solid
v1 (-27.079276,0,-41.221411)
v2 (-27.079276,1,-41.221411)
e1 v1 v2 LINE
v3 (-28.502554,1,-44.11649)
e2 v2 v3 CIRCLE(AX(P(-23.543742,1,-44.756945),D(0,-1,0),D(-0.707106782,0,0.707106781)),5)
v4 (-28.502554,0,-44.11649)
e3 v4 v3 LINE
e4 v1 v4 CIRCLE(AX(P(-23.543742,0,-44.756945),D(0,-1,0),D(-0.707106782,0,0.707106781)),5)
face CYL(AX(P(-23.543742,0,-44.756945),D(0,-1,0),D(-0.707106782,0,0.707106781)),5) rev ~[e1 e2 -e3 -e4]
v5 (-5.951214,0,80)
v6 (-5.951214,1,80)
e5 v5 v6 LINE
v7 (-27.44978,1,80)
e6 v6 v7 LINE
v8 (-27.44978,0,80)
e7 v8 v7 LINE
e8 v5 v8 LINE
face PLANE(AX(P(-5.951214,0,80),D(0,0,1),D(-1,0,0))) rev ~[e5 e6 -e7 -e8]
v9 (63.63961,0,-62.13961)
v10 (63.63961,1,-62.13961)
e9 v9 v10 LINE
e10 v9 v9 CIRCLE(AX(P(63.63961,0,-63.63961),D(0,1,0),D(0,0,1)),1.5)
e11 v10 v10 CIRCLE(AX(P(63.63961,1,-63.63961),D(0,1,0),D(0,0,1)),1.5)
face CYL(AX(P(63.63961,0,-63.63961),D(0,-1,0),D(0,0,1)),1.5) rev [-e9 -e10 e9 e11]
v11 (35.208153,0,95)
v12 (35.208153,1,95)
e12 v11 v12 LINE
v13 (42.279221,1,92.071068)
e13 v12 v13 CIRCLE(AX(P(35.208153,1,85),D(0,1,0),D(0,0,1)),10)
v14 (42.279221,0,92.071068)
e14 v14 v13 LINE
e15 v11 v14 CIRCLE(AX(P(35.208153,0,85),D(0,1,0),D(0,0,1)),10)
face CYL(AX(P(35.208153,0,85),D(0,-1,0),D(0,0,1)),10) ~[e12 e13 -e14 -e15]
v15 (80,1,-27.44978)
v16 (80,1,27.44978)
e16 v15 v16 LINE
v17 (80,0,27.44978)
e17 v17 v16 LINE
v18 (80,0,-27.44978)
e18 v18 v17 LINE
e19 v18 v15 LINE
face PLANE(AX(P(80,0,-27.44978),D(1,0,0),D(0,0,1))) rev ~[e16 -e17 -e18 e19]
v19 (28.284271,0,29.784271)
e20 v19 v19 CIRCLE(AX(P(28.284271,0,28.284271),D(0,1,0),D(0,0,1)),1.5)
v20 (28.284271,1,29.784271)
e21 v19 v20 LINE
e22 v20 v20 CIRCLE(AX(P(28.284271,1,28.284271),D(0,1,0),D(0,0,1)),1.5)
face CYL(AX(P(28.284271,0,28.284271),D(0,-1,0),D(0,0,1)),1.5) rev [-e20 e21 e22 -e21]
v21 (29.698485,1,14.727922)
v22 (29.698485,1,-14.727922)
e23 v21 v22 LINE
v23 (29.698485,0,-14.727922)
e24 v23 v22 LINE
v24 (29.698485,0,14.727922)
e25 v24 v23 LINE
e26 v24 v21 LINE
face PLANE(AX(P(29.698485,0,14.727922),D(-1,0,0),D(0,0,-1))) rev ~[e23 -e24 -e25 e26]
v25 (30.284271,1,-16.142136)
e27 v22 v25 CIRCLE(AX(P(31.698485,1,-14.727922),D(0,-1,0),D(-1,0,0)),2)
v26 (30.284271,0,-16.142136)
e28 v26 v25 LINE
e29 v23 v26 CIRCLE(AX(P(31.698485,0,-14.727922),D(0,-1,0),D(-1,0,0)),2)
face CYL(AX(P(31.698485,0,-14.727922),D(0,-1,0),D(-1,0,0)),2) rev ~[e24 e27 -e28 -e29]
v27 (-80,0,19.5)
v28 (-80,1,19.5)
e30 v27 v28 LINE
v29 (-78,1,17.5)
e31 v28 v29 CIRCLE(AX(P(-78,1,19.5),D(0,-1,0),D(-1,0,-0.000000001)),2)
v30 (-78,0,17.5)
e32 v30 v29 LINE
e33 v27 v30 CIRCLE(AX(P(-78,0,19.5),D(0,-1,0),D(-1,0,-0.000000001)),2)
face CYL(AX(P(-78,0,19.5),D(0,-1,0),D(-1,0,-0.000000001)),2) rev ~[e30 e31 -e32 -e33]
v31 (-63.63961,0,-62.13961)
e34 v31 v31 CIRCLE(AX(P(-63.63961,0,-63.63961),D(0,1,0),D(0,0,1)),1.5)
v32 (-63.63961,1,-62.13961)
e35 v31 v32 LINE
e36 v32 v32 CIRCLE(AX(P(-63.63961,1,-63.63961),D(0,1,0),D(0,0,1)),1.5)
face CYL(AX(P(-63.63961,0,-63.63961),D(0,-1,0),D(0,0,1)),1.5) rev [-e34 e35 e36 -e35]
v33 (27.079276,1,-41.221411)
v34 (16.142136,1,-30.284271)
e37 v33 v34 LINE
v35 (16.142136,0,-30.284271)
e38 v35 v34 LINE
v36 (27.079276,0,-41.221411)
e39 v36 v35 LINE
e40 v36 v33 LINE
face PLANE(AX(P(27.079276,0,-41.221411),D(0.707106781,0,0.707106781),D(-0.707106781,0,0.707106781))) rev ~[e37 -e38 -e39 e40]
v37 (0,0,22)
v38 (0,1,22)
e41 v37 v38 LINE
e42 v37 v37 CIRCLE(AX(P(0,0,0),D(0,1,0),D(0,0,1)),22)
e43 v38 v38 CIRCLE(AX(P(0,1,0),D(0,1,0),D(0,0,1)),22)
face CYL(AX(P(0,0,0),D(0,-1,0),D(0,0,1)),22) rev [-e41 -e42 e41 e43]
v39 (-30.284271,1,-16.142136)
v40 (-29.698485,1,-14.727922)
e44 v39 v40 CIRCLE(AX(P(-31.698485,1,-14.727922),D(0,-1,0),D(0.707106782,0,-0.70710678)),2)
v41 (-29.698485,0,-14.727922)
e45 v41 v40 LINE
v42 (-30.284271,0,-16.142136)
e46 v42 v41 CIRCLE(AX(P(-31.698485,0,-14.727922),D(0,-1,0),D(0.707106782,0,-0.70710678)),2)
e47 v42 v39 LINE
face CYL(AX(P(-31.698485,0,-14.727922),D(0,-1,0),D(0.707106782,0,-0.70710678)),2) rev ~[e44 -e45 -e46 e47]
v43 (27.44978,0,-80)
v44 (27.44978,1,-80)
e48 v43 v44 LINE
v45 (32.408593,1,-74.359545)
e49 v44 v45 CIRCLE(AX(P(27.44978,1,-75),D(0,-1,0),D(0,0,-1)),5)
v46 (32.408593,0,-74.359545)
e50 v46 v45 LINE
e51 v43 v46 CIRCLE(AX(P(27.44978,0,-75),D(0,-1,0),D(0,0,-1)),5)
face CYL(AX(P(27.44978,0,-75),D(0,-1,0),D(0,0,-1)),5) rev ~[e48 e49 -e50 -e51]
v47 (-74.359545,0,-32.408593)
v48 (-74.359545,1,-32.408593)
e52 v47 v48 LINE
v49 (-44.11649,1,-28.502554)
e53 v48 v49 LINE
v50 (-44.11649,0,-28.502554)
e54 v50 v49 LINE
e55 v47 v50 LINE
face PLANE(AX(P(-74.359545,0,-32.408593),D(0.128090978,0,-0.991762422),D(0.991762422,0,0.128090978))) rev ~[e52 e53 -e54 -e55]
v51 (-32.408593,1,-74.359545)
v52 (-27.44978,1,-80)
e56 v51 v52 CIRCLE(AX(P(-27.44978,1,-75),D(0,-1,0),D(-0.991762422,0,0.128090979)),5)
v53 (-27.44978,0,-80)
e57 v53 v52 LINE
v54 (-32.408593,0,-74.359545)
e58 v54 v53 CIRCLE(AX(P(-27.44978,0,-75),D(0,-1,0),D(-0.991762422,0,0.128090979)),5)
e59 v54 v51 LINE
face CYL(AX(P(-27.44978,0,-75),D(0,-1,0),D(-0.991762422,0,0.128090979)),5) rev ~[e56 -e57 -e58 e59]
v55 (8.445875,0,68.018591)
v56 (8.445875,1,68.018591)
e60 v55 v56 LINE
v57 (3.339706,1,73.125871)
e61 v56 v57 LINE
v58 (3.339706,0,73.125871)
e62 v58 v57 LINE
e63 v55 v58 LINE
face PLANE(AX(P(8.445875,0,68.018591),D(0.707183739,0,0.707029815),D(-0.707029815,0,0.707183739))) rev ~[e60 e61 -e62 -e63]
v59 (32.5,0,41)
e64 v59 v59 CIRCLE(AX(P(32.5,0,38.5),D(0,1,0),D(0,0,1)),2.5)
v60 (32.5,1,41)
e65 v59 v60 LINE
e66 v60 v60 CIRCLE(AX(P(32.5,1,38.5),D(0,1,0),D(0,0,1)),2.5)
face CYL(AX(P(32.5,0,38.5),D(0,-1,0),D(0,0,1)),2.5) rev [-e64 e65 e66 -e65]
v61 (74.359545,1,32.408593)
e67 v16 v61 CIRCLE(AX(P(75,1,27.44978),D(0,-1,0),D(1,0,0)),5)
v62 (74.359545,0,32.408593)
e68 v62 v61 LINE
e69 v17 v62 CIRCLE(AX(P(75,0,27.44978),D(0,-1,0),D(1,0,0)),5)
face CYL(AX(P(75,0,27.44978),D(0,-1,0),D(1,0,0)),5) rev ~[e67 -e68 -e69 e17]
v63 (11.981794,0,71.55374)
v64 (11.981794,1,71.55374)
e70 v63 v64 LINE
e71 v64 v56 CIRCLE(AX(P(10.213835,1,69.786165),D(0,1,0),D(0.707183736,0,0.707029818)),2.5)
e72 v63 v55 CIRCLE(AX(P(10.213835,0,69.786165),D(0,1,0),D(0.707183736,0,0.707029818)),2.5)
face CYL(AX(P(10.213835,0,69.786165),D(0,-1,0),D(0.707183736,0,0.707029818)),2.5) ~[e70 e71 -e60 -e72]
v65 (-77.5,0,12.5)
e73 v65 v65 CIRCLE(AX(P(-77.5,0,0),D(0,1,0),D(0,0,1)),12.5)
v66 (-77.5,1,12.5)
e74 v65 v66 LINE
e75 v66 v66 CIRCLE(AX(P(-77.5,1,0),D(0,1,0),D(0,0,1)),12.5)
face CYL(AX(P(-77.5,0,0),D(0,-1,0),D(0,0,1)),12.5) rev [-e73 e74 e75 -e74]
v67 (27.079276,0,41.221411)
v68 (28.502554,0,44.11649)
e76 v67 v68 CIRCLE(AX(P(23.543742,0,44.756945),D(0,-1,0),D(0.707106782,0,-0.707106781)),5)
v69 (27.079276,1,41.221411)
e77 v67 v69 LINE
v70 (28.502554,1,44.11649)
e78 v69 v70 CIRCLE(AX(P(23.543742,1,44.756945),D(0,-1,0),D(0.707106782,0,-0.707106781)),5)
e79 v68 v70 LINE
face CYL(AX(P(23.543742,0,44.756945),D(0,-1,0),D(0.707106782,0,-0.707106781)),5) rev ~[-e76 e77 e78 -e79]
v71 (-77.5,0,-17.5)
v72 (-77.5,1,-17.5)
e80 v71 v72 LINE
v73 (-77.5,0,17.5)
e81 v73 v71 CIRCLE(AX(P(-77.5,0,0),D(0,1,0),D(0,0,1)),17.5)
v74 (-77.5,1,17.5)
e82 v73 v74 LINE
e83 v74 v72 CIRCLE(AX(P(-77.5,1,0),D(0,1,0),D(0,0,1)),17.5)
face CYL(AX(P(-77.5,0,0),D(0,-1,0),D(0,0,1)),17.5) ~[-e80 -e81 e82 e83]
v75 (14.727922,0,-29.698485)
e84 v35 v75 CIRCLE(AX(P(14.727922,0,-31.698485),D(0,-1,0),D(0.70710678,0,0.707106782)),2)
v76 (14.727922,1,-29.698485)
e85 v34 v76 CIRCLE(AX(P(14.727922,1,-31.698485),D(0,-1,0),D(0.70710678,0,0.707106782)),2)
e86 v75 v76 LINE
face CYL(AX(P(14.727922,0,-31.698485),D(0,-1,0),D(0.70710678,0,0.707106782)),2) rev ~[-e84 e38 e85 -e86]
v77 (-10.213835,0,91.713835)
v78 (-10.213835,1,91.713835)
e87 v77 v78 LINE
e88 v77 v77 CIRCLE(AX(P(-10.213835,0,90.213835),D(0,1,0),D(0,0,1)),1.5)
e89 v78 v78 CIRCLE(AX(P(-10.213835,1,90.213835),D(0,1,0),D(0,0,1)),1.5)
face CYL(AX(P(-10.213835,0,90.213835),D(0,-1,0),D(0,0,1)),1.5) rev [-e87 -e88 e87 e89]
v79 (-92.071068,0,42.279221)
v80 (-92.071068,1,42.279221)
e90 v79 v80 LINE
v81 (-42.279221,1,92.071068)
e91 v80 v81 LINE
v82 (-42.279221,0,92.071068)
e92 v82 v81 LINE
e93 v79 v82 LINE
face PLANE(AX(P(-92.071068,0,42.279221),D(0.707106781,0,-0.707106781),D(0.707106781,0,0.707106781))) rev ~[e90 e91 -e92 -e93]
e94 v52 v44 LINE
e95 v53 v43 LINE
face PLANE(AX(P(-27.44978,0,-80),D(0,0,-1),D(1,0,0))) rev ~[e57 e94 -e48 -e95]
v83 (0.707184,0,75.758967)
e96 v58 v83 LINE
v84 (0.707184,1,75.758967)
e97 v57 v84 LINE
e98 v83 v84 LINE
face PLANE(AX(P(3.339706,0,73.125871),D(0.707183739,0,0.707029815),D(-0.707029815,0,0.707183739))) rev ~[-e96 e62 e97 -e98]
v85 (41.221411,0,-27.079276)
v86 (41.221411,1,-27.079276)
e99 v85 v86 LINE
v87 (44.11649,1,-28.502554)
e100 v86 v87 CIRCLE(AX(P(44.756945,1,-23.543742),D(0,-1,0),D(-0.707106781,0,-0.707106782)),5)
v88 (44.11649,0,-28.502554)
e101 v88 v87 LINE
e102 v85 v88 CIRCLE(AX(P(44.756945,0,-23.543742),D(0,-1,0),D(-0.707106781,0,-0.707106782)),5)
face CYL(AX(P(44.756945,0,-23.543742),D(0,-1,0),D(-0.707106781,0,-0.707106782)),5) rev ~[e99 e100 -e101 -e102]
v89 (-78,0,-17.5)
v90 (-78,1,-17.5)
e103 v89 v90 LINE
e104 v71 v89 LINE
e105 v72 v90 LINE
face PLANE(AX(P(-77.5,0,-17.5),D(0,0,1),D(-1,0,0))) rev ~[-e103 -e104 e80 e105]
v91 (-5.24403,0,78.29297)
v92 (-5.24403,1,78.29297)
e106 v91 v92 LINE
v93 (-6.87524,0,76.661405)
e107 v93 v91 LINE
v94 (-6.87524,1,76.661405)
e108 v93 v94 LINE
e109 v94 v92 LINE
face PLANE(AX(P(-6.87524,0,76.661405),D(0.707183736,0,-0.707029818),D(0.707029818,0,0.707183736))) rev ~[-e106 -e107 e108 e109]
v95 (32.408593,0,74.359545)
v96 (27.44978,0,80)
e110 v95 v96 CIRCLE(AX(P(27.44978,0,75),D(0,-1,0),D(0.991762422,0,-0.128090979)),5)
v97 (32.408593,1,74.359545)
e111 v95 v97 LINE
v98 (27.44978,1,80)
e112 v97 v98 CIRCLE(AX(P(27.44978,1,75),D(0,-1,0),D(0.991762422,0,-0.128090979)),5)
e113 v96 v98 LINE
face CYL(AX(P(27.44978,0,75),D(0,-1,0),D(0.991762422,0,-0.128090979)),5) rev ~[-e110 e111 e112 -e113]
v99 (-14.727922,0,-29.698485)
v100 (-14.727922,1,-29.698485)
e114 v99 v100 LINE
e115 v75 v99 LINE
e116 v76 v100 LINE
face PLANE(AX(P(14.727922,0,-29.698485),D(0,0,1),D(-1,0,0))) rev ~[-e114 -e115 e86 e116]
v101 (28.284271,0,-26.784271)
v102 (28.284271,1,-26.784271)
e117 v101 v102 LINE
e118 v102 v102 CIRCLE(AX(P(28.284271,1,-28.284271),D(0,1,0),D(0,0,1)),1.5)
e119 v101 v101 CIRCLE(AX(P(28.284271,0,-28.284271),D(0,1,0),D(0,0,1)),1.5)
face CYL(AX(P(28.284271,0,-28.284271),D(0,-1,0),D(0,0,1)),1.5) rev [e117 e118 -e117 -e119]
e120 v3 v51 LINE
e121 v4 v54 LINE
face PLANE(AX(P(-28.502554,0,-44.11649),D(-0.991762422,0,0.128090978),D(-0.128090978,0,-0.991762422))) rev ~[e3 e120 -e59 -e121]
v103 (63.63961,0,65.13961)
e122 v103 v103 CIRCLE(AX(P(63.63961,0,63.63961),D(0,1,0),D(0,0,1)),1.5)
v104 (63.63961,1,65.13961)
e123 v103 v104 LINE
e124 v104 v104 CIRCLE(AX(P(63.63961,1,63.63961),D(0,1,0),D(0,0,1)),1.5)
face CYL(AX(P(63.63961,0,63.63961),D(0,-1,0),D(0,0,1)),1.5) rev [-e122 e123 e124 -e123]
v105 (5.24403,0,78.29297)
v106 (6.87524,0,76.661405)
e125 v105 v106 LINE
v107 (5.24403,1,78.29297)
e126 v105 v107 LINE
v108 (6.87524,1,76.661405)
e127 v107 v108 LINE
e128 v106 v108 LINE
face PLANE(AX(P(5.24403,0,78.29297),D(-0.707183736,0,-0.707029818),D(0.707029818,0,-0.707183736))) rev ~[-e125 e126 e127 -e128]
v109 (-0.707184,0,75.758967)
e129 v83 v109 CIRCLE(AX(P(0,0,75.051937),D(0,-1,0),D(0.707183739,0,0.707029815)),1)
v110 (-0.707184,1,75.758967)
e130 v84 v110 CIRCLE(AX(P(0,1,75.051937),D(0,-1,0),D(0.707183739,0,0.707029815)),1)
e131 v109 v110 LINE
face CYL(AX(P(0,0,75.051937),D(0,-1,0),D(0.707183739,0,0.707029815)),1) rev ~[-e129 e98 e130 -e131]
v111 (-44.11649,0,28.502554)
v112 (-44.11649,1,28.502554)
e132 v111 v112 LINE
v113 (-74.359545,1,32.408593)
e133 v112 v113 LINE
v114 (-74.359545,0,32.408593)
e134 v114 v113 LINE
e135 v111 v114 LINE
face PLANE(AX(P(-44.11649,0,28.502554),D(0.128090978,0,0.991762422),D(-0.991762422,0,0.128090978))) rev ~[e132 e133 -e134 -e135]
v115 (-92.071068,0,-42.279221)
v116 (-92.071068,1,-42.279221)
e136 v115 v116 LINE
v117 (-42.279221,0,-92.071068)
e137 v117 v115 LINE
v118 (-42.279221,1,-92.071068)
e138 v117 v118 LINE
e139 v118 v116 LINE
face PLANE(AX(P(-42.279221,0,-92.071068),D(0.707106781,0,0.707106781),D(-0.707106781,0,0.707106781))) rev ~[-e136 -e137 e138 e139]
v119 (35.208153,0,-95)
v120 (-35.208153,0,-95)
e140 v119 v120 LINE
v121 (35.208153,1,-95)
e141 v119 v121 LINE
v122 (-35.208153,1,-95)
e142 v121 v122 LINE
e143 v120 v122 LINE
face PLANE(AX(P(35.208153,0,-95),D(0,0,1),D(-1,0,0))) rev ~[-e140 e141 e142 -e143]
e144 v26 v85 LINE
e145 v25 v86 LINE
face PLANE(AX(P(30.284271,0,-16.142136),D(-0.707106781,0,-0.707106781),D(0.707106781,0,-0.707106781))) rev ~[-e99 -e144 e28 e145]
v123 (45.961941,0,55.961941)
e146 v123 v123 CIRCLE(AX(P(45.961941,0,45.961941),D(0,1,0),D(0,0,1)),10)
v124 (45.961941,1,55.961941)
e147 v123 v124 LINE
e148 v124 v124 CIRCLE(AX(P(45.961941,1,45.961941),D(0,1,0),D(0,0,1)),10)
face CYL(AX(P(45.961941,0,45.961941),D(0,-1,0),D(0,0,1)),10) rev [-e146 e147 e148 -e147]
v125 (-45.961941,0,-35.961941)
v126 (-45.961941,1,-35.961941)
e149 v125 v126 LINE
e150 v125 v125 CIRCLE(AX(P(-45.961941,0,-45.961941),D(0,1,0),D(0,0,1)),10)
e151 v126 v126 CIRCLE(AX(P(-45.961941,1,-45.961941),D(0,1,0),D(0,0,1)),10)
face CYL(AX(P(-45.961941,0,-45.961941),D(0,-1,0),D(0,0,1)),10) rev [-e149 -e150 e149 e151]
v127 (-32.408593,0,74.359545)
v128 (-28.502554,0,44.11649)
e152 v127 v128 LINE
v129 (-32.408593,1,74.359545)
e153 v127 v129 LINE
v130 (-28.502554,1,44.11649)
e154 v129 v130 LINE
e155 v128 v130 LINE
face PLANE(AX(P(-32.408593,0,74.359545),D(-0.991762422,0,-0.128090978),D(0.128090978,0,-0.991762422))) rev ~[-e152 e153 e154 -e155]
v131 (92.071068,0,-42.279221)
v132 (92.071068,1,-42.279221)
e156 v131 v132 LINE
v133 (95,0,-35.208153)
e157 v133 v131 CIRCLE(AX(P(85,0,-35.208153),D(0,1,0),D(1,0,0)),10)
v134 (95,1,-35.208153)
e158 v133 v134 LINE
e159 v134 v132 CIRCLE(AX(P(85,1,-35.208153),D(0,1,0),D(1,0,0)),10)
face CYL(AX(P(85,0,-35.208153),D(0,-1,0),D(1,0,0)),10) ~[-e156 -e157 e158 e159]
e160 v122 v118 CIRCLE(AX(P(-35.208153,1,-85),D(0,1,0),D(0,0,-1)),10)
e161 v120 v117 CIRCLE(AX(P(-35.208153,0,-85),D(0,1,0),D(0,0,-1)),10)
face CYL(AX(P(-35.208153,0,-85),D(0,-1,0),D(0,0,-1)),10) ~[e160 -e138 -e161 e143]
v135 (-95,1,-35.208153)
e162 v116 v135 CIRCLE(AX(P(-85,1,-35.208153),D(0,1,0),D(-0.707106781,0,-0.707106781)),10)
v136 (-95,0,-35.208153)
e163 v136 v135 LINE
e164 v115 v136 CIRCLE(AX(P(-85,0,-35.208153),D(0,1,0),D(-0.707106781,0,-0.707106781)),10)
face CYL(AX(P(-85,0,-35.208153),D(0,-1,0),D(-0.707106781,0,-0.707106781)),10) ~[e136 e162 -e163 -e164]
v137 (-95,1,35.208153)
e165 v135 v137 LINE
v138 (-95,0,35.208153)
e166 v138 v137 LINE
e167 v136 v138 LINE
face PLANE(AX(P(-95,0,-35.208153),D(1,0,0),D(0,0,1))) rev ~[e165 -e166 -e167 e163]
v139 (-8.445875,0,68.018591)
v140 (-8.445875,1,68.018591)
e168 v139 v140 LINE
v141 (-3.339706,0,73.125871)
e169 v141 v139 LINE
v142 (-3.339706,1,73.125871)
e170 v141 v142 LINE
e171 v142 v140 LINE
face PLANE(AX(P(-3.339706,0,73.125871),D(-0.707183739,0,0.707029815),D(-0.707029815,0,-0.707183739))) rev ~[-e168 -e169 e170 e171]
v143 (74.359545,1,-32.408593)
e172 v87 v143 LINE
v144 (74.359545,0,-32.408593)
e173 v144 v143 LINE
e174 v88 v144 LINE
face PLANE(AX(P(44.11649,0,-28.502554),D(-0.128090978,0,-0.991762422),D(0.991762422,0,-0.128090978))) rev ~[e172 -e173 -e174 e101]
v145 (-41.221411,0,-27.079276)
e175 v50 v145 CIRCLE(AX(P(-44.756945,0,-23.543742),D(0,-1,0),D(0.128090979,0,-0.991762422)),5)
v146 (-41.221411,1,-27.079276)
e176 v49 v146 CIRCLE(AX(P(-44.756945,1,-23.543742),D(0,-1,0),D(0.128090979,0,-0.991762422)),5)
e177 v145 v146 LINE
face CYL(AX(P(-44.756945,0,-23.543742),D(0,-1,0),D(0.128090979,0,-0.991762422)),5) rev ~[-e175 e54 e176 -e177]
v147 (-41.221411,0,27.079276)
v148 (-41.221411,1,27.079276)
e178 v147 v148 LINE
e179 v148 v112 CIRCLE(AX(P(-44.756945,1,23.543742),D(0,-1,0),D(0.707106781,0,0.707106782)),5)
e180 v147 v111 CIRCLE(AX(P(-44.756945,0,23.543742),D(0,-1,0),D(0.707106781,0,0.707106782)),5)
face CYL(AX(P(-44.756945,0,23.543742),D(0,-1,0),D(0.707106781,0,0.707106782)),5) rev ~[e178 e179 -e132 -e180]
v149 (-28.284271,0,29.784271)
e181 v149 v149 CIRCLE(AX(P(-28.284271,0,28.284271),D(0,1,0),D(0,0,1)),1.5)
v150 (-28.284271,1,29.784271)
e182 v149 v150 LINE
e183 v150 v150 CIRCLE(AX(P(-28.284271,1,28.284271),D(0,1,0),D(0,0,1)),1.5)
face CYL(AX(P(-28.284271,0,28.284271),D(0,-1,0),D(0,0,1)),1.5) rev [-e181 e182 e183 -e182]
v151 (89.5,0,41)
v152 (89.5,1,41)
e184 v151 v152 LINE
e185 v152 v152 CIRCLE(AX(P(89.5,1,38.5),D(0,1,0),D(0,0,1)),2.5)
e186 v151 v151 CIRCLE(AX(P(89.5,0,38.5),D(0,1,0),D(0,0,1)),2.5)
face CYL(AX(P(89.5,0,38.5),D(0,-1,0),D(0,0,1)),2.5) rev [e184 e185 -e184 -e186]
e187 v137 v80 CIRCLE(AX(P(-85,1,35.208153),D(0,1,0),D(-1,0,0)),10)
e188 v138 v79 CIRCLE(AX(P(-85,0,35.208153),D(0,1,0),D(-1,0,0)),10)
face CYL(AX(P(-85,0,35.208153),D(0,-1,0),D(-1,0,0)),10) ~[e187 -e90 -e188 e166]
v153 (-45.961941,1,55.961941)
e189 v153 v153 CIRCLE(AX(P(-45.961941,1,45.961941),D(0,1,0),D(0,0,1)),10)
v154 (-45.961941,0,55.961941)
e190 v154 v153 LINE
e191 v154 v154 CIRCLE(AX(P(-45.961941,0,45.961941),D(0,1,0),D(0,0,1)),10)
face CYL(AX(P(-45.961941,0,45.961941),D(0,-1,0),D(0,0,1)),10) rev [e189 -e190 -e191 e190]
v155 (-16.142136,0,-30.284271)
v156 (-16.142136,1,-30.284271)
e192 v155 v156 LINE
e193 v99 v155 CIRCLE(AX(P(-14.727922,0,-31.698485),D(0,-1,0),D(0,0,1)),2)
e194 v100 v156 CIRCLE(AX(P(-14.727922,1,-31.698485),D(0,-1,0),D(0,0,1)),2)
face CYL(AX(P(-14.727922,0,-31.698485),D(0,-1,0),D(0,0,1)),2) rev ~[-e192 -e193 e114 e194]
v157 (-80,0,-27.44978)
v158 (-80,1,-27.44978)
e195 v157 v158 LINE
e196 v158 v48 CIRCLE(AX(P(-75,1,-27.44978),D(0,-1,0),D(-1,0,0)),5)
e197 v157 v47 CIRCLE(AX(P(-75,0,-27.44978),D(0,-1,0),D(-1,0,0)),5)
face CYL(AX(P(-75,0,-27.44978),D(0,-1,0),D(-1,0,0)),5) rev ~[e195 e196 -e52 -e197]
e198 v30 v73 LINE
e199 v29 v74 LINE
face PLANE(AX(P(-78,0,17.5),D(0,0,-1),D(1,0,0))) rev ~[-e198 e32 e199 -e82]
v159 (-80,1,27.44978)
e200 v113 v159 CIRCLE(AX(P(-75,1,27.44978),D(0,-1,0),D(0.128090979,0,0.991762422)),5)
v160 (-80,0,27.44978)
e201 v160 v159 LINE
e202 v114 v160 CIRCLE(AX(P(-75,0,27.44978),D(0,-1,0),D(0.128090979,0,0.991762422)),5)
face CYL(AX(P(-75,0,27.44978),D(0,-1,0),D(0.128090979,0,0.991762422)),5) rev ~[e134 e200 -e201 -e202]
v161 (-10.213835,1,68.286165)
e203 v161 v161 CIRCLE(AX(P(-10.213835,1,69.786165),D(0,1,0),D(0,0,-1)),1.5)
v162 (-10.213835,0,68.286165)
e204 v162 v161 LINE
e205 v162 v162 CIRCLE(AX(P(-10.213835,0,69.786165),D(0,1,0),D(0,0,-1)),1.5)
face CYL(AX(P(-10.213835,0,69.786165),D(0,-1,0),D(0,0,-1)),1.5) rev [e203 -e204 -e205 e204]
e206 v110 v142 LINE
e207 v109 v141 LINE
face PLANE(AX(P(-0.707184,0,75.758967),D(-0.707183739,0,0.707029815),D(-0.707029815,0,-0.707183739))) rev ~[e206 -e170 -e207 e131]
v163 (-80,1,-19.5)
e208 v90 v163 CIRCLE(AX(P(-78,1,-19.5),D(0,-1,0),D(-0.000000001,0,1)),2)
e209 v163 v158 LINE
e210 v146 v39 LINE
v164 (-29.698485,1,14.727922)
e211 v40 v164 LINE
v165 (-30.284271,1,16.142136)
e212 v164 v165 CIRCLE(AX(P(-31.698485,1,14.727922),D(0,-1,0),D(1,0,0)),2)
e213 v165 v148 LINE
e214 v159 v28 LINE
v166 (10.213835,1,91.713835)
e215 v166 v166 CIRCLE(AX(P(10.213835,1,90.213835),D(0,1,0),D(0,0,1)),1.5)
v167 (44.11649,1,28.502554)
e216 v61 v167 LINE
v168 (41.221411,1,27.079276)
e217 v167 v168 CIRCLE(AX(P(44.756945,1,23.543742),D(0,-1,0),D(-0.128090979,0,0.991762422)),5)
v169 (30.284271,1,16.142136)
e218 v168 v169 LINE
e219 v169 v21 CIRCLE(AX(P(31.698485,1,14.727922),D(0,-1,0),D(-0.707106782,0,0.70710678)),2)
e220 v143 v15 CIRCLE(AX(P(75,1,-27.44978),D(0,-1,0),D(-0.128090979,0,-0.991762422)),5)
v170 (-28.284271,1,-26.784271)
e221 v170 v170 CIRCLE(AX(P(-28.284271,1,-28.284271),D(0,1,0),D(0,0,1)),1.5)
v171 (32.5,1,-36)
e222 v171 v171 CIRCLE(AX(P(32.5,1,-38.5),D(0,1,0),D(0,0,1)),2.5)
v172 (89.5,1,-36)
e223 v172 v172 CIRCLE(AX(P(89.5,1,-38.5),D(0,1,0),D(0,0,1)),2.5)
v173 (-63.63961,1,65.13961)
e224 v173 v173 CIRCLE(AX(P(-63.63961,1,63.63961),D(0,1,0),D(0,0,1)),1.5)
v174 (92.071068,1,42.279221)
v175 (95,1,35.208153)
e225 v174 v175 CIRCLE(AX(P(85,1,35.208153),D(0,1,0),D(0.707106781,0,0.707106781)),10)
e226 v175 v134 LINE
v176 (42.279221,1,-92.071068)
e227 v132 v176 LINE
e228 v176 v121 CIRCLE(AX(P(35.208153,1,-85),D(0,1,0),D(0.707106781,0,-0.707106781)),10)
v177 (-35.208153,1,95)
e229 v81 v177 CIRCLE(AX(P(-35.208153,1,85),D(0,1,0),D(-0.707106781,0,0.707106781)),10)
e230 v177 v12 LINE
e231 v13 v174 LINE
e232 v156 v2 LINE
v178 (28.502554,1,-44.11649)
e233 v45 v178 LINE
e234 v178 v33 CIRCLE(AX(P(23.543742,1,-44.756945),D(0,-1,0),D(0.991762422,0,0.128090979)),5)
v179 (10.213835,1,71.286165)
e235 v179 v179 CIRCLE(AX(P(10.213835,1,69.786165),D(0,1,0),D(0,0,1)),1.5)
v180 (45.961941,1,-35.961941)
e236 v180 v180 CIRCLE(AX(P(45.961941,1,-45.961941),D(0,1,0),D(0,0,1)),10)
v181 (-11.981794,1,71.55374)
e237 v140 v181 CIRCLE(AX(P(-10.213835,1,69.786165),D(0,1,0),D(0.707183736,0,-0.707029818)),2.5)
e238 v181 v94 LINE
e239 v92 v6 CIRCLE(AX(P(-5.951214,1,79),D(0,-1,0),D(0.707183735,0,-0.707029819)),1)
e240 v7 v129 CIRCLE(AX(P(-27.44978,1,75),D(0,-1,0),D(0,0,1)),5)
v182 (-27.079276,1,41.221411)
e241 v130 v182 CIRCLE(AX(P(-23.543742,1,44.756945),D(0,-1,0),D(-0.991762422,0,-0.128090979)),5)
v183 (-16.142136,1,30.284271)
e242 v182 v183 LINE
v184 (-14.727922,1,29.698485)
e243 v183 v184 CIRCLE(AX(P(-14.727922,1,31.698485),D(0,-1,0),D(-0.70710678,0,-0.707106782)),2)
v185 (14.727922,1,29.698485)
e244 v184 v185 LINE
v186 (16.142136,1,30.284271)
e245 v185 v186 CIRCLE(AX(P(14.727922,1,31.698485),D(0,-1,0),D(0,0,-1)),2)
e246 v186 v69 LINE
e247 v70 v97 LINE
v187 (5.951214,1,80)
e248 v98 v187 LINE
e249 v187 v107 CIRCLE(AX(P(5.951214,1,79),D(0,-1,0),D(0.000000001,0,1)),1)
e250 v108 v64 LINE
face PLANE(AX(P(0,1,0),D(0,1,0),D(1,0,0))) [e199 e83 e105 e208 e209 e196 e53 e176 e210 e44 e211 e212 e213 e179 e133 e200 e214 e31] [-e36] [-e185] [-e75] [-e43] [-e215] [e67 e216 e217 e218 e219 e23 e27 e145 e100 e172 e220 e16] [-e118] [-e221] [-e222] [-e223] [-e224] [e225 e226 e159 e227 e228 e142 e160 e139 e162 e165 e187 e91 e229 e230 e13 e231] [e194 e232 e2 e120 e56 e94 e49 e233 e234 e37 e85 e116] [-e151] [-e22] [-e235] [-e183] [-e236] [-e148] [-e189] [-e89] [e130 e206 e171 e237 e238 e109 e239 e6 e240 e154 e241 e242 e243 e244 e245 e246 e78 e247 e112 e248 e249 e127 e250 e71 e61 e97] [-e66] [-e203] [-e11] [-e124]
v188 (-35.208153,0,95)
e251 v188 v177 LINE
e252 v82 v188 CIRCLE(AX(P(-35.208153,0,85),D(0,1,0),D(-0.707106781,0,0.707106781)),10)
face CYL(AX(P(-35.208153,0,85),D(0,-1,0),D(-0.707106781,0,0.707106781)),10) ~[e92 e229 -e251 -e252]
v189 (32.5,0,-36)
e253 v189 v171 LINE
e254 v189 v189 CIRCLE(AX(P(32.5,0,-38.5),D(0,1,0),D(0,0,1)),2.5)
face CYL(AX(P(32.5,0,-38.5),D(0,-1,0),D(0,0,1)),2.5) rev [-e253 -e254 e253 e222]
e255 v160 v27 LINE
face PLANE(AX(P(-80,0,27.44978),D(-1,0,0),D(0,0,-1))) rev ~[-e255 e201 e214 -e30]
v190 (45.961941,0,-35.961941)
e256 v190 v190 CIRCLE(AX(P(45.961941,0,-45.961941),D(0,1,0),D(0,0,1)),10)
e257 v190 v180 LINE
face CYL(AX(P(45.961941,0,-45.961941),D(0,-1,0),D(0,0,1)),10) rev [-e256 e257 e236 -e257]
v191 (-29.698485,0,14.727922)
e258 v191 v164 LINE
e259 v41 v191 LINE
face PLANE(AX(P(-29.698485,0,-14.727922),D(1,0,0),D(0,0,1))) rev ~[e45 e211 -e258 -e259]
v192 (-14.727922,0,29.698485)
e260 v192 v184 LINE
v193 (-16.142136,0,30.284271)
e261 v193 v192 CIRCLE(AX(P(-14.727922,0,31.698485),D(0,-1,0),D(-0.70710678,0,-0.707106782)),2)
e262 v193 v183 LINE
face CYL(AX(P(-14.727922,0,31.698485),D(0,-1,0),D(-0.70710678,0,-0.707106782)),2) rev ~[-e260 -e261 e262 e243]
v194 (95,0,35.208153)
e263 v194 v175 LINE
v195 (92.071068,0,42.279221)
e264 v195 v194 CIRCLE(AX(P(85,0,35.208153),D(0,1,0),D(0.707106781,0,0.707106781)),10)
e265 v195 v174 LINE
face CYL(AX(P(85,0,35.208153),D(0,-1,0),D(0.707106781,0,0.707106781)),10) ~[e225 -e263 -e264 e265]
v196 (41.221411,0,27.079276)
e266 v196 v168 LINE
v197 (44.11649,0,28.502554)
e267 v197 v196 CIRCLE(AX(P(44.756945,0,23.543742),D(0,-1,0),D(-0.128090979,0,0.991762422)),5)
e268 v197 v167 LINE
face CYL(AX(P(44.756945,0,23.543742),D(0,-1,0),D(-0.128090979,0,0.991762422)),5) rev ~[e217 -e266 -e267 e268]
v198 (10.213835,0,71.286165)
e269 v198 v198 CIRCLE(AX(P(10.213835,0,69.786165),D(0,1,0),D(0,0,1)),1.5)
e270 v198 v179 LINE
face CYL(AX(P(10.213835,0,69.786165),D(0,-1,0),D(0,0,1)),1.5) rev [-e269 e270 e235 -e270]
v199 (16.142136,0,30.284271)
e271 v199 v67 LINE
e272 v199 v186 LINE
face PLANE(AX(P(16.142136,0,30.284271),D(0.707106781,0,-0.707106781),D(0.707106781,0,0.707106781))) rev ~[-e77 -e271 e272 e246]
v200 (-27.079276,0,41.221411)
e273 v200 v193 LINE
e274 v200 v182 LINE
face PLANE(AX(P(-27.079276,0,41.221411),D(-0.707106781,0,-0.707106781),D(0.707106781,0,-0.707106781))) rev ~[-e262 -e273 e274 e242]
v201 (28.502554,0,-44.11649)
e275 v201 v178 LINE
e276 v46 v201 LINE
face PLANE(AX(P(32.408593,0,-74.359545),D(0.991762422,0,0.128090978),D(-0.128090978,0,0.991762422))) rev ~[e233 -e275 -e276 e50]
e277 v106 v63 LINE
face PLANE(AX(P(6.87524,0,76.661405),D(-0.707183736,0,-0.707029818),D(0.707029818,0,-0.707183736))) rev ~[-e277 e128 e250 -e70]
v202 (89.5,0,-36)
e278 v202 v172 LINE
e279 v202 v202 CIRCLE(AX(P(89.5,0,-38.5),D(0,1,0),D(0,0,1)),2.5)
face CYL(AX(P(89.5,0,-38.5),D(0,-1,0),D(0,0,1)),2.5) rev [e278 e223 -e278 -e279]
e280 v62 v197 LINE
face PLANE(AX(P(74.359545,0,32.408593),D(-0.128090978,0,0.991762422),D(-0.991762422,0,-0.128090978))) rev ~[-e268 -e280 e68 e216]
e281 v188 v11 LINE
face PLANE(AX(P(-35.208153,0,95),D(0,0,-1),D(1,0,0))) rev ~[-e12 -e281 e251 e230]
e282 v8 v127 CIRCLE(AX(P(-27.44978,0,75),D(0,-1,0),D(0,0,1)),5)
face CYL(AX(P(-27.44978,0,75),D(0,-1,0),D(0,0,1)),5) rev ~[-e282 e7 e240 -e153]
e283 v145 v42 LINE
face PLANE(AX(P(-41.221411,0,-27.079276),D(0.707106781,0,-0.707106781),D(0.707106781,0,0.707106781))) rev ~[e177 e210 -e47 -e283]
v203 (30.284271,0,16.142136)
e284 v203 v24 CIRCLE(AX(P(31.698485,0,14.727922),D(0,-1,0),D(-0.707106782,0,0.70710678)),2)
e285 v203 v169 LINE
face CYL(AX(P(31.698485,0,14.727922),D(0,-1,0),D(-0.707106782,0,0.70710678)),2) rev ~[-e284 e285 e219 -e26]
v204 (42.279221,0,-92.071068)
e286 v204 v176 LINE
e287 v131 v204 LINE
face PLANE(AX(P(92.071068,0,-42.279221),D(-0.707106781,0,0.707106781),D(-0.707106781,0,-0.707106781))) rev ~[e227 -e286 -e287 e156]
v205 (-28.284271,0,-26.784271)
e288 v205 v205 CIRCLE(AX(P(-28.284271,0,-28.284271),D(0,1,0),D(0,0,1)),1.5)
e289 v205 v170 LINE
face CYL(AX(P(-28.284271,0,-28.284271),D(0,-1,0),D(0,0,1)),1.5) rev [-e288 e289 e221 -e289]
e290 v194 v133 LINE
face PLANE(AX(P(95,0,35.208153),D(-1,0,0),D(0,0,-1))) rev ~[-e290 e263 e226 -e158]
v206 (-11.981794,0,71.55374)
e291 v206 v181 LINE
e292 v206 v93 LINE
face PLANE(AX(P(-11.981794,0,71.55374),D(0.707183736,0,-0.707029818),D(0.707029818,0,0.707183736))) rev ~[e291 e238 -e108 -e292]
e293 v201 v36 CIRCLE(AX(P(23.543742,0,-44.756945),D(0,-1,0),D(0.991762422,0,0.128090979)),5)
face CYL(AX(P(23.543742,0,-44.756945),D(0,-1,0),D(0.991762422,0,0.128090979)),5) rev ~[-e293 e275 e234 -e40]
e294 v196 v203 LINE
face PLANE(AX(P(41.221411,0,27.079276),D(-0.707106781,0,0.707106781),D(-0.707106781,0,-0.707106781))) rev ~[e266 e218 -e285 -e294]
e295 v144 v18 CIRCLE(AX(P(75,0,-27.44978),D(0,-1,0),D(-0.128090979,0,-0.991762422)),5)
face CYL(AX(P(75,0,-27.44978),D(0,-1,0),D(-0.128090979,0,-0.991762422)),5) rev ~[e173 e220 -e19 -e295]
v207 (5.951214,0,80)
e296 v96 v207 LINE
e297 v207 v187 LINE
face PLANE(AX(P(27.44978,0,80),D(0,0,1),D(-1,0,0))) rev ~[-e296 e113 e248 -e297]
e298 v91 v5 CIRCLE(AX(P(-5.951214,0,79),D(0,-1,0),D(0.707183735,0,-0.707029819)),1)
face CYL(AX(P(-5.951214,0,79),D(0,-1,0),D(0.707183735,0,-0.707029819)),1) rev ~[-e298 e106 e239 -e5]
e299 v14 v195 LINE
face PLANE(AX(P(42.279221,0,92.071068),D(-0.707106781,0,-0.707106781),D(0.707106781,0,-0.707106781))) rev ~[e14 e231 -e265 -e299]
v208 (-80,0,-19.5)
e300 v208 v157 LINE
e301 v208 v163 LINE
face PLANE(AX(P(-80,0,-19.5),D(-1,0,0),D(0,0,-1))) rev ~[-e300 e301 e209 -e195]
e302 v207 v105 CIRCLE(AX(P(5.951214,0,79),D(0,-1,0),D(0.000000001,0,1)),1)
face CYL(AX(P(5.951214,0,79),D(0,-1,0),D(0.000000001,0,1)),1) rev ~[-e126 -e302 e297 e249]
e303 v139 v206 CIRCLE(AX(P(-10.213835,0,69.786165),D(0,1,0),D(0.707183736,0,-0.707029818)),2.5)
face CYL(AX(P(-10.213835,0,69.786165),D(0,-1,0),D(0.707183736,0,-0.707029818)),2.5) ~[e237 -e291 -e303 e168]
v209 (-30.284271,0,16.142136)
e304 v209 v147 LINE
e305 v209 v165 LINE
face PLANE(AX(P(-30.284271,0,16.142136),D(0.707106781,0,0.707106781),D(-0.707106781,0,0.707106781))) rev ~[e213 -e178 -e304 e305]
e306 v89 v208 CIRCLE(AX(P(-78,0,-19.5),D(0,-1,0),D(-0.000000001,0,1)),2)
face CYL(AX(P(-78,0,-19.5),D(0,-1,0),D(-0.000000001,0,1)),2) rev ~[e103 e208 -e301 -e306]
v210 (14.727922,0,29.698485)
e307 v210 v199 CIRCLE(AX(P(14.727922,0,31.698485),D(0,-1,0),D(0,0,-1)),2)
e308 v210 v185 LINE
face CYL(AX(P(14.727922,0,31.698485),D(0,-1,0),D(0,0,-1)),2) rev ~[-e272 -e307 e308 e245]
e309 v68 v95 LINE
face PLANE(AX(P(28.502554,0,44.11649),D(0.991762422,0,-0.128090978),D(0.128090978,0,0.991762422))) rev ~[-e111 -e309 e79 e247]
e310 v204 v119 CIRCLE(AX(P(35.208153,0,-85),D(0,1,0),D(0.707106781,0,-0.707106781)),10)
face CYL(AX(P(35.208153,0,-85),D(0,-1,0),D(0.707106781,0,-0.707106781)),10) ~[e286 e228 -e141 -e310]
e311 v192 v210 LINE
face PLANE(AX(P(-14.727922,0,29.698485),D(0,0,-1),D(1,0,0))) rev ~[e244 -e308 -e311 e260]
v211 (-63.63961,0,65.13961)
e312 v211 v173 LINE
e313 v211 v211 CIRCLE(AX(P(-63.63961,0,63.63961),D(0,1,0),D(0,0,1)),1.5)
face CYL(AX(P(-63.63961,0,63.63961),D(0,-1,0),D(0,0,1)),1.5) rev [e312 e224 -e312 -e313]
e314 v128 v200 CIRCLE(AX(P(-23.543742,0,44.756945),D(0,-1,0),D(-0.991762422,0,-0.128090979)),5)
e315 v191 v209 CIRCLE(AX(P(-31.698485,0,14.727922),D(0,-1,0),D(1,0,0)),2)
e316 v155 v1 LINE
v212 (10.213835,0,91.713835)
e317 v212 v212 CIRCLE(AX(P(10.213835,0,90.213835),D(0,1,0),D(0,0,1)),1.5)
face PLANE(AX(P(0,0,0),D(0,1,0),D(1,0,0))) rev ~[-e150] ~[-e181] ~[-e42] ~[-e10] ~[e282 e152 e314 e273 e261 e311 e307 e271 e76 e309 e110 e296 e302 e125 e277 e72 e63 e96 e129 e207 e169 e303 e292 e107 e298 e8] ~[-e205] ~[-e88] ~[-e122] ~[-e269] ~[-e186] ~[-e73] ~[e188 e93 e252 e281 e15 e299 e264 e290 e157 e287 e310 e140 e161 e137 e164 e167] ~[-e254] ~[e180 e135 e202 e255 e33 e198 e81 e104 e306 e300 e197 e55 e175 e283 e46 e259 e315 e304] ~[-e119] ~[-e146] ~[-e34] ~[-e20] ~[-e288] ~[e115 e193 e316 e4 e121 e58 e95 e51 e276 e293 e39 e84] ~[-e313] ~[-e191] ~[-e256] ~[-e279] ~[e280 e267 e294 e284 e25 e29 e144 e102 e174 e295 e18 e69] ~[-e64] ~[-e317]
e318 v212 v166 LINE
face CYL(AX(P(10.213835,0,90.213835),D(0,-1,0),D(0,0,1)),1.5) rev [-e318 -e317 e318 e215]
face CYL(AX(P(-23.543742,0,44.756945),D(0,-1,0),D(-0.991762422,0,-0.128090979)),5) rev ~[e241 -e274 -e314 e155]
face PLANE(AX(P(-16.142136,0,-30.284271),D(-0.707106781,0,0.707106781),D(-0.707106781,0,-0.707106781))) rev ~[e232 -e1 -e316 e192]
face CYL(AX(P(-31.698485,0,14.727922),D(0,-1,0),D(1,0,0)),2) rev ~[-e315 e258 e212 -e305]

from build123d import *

# Parameters (mm, degrees)
SKETCH1_R           = 1.5
SKETCH1_R_2         = 10
SKETCH1_R_3         = 22
SKETCH1_R_4         = 2.5
SKETCH1_R_5         = 12.5
BOSS_EXTRUDE1_DEPTH = 1


with BuildPart() as part:
    # Sketch1 → Boss-Extrude1 (new body)
    with BuildSketch(Plane(origin=(0, 0, 0), x_dir=(1, 0, 0), z_dir=(0, 1, 0))):
        with BuildLine():
            Line((92.071067812, 42.279220614), (42.279220614, 92.071067812))
            ThreePointArc((42.279220614, 92.071067812), (39.034987125, 94.238795325), (35.208152802, 95))
            Line((35.208152802, 95), (-35.208152802, 95))
            ThreePointArc((-35.208152802, 95), (-39.034987125, 94.238795325), (-42.279220614, 92.071067812))
            Line((-42.279220614, 92.071067812), (-92.071067812, 42.279220614))
            ThreePointArc((-92.071067812, 42.279220614), (-94.238795325, 39.034987125), (-95, 35.208152802))
            Line((-95, 35.208152802), (-95, -35.208152802))
            ThreePointArc((-95, -35.208152802), (-94.238795325, -39.034987125), (-92.071067812, -42.279220614))
            Line((-92.071067812, -42.279220614), (-42.279220614, -92.071067812))
            ThreePointArc((-42.279220614, -92.071067812), (-39.034987125, -94.238795325), (-35.208152802, -95))
            Line((-35.208152802, -95), (35.208152802, -95))
            ThreePointArc((35.208152802, -95), (39.034987125, -94.238795325), (42.279220614, -92.071067812))
            Line((42.279220614, -92.071067812), (92.071067812, -42.279220614))
            ThreePointArc((92.071067812, -42.279220614), (94.238795325, -39.034987125), (95, -35.208152802))
            Line((95, -35.208152802), (95, 35.208152802))
            ThreePointArc((95, 35.208152802), (94.238795325, 39.034987125), (92.071067812, 42.279220614))
        make_face()
        with Locations(Location((63.639610307, 63.639610307, 0), (0, 0, 270))):
            Circle(SKETCH1_R, mode=Mode.SUBTRACT)
        with Locations(Location((28.284271247, 28.284271247, 0), (0, 0, 270))):
            Circle(SKETCH1_R, mode=Mode.SUBTRACT)
        with Locations(Location((63.639610307, -63.639610307, 0), (0, 0, 270))):
            Circle(SKETCH1_R, mode=Mode.SUBTRACT)
        with Locations(Location((28.284271247, -28.284271247, 0), (0, 0, 270))):
            Circle(SKETCH1_R, mode=Mode.SUBTRACT)
        with Locations(Location((-63.639610307, -63.639610307, 0), (0, 0, 270))):
            Circle(SKETCH1_R, mode=Mode.SUBTRACT)
        with Locations(Location((-28.284271247, -28.284271247, 0), (0, 0, 270))):
            Circle(SKETCH1_R, mode=Mode.SUBTRACT)
        with Locations(Location((-63.639610307, 63.639610307, 0), (0, 0, 270))):
            Circle(SKETCH1_R, mode=Mode.SUBTRACT)
        with Locations(Location((-28.284271247, 28.284271247, 0), (0, 0, 270))):
            Circle(SKETCH1_R, mode=Mode.SUBTRACT)
        with Locations(Location((45.961940777, 45.961940777, 0), (0, 0, 270))):
            Circle(SKETCH1_R_2, mode=Mode.SUBTRACT)
        with Locations(Location((45.961940777, -45.961940777, 0), (0, 0, 270))):
            Circle(SKETCH1_R_2, mode=Mode.SUBTRACT)
        with Locations(Location((-45.961940777, -45.961940777, 0), (0, 0, 270))):
            Circle(SKETCH1_R_2, mode=Mode.SUBTRACT)
        with Locations(Location((0, 0, 0), (0, 0, 270))):
            Circle(SKETCH1_R_3, mode=Mode.SUBTRACT)
        with Locations(Location((32.5, 38.5, 0), (0, 0, 270))):
            Circle(SKETCH1_R_4, mode=Mode.SUBTRACT)
        with Locations(Location((89.5, 38.5, 0), (0, 0, 270))):
            Circle(SKETCH1_R_4, mode=Mode.SUBTRACT)
        with Locations(Location((32.5, -38.5, 0), (0, 0, 270))):
            Circle(SKETCH1_R_4, mode=Mode.SUBTRACT)
        with Locations(Location((89.5, -38.5, 0), (0, 0, 270))):
            Circle(SKETCH1_R_4, mode=Mode.SUBTRACT)
        with Locations(Location((-77.5, 0, 0), (0, 0, 270))):
            Circle(SKETCH1_R_5, mode=Mode.SUBTRACT)
        with Locations(Location((-45.961940777, 45.961940777, 0), (0, 0, 270))):
            Circle(SKETCH1_R_2, mode=Mode.SUBTRACT)
        with Locations(Location((-10.213834715, -90.213834715, 0), (0, 0, 270))):
            Circle(SKETCH1_R, mode=Mode.SUBTRACT)
        with Locations(Location((10.213834715, -69.786165285, 0), (0, 0, 270))):
            Circle(SKETCH1_R, mode=Mode.SUBTRACT)
        with Locations(Location((10.213834715, -90.213834715, 0), (0, 0, 270))):
            Circle(SKETCH1_R, mode=Mode.SUBTRACT)
        with Locations(Location((-10.213834715, -69.786165285, 0), (0, 0, 90))):
            Circle(SKETCH1_R, mode=Mode.SUBTRACT)
        with BuildLine():
            Line((27.079275596, 41.221411219), (16.142135624, 30.284271247))
            ThreePointArc((16.142135624, 30.284271247), (15.493288926, 29.850725745), (14.727922061, 29.69848481))
            Line((14.727922061, 29.69848481), (-14.727922061, 29.69848481))
            ThreePointArc((-14.727922061, 29.69848481), (-15.493288926, 29.850725745), (-16.142135624, 30.284271247))
            Line((-16.142135624, 30.284271247), (-27.079275596, 41.221411219))
            ThreePointArc((-27.079275596, 41.221411219), (-28.030817483, 42.551009763), (-28.502553799, 44.116490233))
            Line((-28.502553799, 44.116490233), (-32.40859259, 74.359545108))
            ThreePointArc((-32.40859259, 74.359545108), (-31.204928579, 78.301342571), (-27.449780482, 80))
            Line((-27.449780482, 80), (27.449780482, 80))
            ThreePointArc((27.449780482, 80), (31.204928579, 78.301342571), (32.40859259, 74.359545108))
            Line((32.40859259, 74.359545108), (28.502553799, 44.116490233))
            ThreePointArc((28.502553799, 44.116490233), (28.030817483, 42.551009763), (27.079275596, 41.221411219))
        make_face(mode=Mode.SUBTRACT)
        with BuildLine():
            Line((30.284271247, 16.142135624), (41.221411219, 27.079275596))
            ThreePointArc((41.221411219, 27.079275596), (42.551009763, 28.030817483), (44.116490233, 28.502553799))
            Line((44.116490233, 28.502553799), (74.359545108, 32.40859259))
            ThreePointArc((74.359545108, 32.40859259), (78.301342571, 31.204928579), (80, 27.449780482))
            Line((80, 27.449780482), (80, -27.449780482))
            ThreePointArc((80, -27.449780482), (78.301342571, -31.204928579), (74.359545108, -32.40859259))
            Line((74.359545108, -32.40859259), (44.116490233, -28.502553799))
            ThreePointArc((44.116490233, -28.502553799), (42.551009763, -28.030817483), (41.221411219, -27.079275596))
            Line((41.221411219, -27.079275596), (30.284271247, -16.142135624))
            ThreePointArc((30.284271247, -16.142135624), (29.850725745, -15.493288926), (29.69848481, -14.727922061))
            Line((29.69848481, -14.727922061), (29.69848481, 14.727922061))
            ThreePointArc((29.69848481, 14.727922061), (29.850725745, 15.493288926), (30.284271247, 16.142135624))
        make_face(mode=Mode.SUBTRACT)
        with BuildLine():
            Line((16.142135624, -30.284271247), (27.079275596, -41.221411219))
            ThreePointArc((27.079275596, -41.221411219), (28.030817483, -42.551009763), (28.502553799, -44.116490233))
            Line((28.502553799, -44.116490233), (32.40859259, -74.359545108))
            ThreePointArc((32.40859259, -74.359545108), (31.204928579, -78.301342571), (27.449780482, -80))
            Line((27.449780482, -80), (5.951214226, -80))
            ThreePointArc((5.951214226, -80), (5.027355519, -79.382733708), (5.24403049, -78.292970182))
            Line((5.24403049, -78.292970182), (6.875240199, -76.661405364))
            Line((6.875240199, -76.661405364), (11.981794054, -71.553739831))
            ThreePointArc((11.981794054, -71.553739831), (11.98140926, -68.018205946), (8.445875375, -68.01859074))
            Line((8.445875375, -68.01859074), (3.339706293, -73.125871458))
            Line((3.339706293, -73.125871458), (0.707183739, -75.758967125))
            ThreePointArc((0.707183739, -75.758967125), (0, -76.05193731), (-0.707183739, -75.758967125))
            Line((-0.707183739, -75.758967125), (-3.339706293, -73.125871458))
            Line((-3.339706293, -73.125871458), (-8.445875375, -68.01859074))
            ThreePointArc((-8.445875375, -68.01859074), (-11.98140926, -68.018205946), (-11.981794054, -71.553739831))
            Line((-11.981794054, -71.553739831), (-6.875240199, -76.661405364))
            Line((-6.875240199, -76.661405364), (-5.24403049, -78.292970182))
            ThreePointArc((-5.24403049, -78.292970182), (-5.027355519, -79.382733708), (-5.951214226, -80))
            Line((-5.951214226, -80), (-27.449780482, -80))
            ThreePointArc((-27.449780482, -80), (-31.204928579, -78.301342571), (-32.40859259, -74.359545108))
            Line((-32.40859259, -74.359545108), (-28.502553799, -44.116490233))
            ThreePointArc((-28.502553799, -44.116490233), (-28.030817483, -42.551009763), (-27.079275596, -41.221411219))
            Line((-27.079275596, -41.221411219), (-16.142135624, -30.284271247))
            ThreePointArc((-16.142135624, -30.284271247), (-15.493288926, -29.850725745), (-14.727922061, -29.69848481))
            Line((-14.727922061, -29.69848481), (14.727922061, -29.69848481))
            ThreePointArc((14.727922061, -29.69848481), (15.493288926, -29.850725745), (16.142135624, -30.284271247))
        make_face(mode=Mode.SUBTRACT)
        with BuildLine():
            Line((-30.284271247, -16.142135624), (-41.221411219, -27.079275596))
            ThreePointArc((-41.221411219, -27.079275596), (-42.551009763, -28.030817483), (-44.116490233, -28.502553799))
            Line((-44.116490233, -28.502553799), (-74.359545108, -32.40859259))
            ThreePointArc((-74.359545108, -32.40859259), (-78.301342571, -31.204928579), (-80, -27.449780482))
            Line((-80, -27.449780482), (-80, -19.5))
            ThreePointArc((-80, -19.5), (-79.414213562, -18.085786438), (-78, -17.5))
            Line((-78, -17.5), (-77.5, -17.5))
            ThreePointArc((-77.5, -17.5), (-60, 0), (-77.5, 17.5))
            Line((-77.5, 17.5), (-78, 17.5))
            ThreePointArc((-78, 17.5), (-79.414213562, 18.085786438), (-80, 19.5))
            Line((-80, 19.5), (-80, 27.449780482))
            ThreePointArc((-80, 27.449780482), (-78.301342571, 31.204928579), (-74.359545108, 32.40859259))
            Line((-74.359545108, 32.40859259), (-44.116490233, 28.502553799))
            ThreePointArc((-44.116490233, 28.502553799), (-42.551009763, 28.030817483), (-41.221411219, 27.079275596))
            Line((-41.221411219, 27.079275596), (-30.284271247, 16.142135624))
            ThreePointArc((-30.284271247, 16.142135624), (-29.850725745, 15.493288926), (-29.69848481, 14.727922061))
            Line((-29.69848481, 14.727922061), (-29.69848481, -14.727922061))
            ThreePointArc((-29.69848481, -14.727922061), (-29.850725745, -15.493288926), (-30.284271247, -16.142135624))
        make_face(mode=Mode.SUBTRACT)
    extrude(amount=BOSS_EXTRUDE1_DEPTH)


solid = part.part
